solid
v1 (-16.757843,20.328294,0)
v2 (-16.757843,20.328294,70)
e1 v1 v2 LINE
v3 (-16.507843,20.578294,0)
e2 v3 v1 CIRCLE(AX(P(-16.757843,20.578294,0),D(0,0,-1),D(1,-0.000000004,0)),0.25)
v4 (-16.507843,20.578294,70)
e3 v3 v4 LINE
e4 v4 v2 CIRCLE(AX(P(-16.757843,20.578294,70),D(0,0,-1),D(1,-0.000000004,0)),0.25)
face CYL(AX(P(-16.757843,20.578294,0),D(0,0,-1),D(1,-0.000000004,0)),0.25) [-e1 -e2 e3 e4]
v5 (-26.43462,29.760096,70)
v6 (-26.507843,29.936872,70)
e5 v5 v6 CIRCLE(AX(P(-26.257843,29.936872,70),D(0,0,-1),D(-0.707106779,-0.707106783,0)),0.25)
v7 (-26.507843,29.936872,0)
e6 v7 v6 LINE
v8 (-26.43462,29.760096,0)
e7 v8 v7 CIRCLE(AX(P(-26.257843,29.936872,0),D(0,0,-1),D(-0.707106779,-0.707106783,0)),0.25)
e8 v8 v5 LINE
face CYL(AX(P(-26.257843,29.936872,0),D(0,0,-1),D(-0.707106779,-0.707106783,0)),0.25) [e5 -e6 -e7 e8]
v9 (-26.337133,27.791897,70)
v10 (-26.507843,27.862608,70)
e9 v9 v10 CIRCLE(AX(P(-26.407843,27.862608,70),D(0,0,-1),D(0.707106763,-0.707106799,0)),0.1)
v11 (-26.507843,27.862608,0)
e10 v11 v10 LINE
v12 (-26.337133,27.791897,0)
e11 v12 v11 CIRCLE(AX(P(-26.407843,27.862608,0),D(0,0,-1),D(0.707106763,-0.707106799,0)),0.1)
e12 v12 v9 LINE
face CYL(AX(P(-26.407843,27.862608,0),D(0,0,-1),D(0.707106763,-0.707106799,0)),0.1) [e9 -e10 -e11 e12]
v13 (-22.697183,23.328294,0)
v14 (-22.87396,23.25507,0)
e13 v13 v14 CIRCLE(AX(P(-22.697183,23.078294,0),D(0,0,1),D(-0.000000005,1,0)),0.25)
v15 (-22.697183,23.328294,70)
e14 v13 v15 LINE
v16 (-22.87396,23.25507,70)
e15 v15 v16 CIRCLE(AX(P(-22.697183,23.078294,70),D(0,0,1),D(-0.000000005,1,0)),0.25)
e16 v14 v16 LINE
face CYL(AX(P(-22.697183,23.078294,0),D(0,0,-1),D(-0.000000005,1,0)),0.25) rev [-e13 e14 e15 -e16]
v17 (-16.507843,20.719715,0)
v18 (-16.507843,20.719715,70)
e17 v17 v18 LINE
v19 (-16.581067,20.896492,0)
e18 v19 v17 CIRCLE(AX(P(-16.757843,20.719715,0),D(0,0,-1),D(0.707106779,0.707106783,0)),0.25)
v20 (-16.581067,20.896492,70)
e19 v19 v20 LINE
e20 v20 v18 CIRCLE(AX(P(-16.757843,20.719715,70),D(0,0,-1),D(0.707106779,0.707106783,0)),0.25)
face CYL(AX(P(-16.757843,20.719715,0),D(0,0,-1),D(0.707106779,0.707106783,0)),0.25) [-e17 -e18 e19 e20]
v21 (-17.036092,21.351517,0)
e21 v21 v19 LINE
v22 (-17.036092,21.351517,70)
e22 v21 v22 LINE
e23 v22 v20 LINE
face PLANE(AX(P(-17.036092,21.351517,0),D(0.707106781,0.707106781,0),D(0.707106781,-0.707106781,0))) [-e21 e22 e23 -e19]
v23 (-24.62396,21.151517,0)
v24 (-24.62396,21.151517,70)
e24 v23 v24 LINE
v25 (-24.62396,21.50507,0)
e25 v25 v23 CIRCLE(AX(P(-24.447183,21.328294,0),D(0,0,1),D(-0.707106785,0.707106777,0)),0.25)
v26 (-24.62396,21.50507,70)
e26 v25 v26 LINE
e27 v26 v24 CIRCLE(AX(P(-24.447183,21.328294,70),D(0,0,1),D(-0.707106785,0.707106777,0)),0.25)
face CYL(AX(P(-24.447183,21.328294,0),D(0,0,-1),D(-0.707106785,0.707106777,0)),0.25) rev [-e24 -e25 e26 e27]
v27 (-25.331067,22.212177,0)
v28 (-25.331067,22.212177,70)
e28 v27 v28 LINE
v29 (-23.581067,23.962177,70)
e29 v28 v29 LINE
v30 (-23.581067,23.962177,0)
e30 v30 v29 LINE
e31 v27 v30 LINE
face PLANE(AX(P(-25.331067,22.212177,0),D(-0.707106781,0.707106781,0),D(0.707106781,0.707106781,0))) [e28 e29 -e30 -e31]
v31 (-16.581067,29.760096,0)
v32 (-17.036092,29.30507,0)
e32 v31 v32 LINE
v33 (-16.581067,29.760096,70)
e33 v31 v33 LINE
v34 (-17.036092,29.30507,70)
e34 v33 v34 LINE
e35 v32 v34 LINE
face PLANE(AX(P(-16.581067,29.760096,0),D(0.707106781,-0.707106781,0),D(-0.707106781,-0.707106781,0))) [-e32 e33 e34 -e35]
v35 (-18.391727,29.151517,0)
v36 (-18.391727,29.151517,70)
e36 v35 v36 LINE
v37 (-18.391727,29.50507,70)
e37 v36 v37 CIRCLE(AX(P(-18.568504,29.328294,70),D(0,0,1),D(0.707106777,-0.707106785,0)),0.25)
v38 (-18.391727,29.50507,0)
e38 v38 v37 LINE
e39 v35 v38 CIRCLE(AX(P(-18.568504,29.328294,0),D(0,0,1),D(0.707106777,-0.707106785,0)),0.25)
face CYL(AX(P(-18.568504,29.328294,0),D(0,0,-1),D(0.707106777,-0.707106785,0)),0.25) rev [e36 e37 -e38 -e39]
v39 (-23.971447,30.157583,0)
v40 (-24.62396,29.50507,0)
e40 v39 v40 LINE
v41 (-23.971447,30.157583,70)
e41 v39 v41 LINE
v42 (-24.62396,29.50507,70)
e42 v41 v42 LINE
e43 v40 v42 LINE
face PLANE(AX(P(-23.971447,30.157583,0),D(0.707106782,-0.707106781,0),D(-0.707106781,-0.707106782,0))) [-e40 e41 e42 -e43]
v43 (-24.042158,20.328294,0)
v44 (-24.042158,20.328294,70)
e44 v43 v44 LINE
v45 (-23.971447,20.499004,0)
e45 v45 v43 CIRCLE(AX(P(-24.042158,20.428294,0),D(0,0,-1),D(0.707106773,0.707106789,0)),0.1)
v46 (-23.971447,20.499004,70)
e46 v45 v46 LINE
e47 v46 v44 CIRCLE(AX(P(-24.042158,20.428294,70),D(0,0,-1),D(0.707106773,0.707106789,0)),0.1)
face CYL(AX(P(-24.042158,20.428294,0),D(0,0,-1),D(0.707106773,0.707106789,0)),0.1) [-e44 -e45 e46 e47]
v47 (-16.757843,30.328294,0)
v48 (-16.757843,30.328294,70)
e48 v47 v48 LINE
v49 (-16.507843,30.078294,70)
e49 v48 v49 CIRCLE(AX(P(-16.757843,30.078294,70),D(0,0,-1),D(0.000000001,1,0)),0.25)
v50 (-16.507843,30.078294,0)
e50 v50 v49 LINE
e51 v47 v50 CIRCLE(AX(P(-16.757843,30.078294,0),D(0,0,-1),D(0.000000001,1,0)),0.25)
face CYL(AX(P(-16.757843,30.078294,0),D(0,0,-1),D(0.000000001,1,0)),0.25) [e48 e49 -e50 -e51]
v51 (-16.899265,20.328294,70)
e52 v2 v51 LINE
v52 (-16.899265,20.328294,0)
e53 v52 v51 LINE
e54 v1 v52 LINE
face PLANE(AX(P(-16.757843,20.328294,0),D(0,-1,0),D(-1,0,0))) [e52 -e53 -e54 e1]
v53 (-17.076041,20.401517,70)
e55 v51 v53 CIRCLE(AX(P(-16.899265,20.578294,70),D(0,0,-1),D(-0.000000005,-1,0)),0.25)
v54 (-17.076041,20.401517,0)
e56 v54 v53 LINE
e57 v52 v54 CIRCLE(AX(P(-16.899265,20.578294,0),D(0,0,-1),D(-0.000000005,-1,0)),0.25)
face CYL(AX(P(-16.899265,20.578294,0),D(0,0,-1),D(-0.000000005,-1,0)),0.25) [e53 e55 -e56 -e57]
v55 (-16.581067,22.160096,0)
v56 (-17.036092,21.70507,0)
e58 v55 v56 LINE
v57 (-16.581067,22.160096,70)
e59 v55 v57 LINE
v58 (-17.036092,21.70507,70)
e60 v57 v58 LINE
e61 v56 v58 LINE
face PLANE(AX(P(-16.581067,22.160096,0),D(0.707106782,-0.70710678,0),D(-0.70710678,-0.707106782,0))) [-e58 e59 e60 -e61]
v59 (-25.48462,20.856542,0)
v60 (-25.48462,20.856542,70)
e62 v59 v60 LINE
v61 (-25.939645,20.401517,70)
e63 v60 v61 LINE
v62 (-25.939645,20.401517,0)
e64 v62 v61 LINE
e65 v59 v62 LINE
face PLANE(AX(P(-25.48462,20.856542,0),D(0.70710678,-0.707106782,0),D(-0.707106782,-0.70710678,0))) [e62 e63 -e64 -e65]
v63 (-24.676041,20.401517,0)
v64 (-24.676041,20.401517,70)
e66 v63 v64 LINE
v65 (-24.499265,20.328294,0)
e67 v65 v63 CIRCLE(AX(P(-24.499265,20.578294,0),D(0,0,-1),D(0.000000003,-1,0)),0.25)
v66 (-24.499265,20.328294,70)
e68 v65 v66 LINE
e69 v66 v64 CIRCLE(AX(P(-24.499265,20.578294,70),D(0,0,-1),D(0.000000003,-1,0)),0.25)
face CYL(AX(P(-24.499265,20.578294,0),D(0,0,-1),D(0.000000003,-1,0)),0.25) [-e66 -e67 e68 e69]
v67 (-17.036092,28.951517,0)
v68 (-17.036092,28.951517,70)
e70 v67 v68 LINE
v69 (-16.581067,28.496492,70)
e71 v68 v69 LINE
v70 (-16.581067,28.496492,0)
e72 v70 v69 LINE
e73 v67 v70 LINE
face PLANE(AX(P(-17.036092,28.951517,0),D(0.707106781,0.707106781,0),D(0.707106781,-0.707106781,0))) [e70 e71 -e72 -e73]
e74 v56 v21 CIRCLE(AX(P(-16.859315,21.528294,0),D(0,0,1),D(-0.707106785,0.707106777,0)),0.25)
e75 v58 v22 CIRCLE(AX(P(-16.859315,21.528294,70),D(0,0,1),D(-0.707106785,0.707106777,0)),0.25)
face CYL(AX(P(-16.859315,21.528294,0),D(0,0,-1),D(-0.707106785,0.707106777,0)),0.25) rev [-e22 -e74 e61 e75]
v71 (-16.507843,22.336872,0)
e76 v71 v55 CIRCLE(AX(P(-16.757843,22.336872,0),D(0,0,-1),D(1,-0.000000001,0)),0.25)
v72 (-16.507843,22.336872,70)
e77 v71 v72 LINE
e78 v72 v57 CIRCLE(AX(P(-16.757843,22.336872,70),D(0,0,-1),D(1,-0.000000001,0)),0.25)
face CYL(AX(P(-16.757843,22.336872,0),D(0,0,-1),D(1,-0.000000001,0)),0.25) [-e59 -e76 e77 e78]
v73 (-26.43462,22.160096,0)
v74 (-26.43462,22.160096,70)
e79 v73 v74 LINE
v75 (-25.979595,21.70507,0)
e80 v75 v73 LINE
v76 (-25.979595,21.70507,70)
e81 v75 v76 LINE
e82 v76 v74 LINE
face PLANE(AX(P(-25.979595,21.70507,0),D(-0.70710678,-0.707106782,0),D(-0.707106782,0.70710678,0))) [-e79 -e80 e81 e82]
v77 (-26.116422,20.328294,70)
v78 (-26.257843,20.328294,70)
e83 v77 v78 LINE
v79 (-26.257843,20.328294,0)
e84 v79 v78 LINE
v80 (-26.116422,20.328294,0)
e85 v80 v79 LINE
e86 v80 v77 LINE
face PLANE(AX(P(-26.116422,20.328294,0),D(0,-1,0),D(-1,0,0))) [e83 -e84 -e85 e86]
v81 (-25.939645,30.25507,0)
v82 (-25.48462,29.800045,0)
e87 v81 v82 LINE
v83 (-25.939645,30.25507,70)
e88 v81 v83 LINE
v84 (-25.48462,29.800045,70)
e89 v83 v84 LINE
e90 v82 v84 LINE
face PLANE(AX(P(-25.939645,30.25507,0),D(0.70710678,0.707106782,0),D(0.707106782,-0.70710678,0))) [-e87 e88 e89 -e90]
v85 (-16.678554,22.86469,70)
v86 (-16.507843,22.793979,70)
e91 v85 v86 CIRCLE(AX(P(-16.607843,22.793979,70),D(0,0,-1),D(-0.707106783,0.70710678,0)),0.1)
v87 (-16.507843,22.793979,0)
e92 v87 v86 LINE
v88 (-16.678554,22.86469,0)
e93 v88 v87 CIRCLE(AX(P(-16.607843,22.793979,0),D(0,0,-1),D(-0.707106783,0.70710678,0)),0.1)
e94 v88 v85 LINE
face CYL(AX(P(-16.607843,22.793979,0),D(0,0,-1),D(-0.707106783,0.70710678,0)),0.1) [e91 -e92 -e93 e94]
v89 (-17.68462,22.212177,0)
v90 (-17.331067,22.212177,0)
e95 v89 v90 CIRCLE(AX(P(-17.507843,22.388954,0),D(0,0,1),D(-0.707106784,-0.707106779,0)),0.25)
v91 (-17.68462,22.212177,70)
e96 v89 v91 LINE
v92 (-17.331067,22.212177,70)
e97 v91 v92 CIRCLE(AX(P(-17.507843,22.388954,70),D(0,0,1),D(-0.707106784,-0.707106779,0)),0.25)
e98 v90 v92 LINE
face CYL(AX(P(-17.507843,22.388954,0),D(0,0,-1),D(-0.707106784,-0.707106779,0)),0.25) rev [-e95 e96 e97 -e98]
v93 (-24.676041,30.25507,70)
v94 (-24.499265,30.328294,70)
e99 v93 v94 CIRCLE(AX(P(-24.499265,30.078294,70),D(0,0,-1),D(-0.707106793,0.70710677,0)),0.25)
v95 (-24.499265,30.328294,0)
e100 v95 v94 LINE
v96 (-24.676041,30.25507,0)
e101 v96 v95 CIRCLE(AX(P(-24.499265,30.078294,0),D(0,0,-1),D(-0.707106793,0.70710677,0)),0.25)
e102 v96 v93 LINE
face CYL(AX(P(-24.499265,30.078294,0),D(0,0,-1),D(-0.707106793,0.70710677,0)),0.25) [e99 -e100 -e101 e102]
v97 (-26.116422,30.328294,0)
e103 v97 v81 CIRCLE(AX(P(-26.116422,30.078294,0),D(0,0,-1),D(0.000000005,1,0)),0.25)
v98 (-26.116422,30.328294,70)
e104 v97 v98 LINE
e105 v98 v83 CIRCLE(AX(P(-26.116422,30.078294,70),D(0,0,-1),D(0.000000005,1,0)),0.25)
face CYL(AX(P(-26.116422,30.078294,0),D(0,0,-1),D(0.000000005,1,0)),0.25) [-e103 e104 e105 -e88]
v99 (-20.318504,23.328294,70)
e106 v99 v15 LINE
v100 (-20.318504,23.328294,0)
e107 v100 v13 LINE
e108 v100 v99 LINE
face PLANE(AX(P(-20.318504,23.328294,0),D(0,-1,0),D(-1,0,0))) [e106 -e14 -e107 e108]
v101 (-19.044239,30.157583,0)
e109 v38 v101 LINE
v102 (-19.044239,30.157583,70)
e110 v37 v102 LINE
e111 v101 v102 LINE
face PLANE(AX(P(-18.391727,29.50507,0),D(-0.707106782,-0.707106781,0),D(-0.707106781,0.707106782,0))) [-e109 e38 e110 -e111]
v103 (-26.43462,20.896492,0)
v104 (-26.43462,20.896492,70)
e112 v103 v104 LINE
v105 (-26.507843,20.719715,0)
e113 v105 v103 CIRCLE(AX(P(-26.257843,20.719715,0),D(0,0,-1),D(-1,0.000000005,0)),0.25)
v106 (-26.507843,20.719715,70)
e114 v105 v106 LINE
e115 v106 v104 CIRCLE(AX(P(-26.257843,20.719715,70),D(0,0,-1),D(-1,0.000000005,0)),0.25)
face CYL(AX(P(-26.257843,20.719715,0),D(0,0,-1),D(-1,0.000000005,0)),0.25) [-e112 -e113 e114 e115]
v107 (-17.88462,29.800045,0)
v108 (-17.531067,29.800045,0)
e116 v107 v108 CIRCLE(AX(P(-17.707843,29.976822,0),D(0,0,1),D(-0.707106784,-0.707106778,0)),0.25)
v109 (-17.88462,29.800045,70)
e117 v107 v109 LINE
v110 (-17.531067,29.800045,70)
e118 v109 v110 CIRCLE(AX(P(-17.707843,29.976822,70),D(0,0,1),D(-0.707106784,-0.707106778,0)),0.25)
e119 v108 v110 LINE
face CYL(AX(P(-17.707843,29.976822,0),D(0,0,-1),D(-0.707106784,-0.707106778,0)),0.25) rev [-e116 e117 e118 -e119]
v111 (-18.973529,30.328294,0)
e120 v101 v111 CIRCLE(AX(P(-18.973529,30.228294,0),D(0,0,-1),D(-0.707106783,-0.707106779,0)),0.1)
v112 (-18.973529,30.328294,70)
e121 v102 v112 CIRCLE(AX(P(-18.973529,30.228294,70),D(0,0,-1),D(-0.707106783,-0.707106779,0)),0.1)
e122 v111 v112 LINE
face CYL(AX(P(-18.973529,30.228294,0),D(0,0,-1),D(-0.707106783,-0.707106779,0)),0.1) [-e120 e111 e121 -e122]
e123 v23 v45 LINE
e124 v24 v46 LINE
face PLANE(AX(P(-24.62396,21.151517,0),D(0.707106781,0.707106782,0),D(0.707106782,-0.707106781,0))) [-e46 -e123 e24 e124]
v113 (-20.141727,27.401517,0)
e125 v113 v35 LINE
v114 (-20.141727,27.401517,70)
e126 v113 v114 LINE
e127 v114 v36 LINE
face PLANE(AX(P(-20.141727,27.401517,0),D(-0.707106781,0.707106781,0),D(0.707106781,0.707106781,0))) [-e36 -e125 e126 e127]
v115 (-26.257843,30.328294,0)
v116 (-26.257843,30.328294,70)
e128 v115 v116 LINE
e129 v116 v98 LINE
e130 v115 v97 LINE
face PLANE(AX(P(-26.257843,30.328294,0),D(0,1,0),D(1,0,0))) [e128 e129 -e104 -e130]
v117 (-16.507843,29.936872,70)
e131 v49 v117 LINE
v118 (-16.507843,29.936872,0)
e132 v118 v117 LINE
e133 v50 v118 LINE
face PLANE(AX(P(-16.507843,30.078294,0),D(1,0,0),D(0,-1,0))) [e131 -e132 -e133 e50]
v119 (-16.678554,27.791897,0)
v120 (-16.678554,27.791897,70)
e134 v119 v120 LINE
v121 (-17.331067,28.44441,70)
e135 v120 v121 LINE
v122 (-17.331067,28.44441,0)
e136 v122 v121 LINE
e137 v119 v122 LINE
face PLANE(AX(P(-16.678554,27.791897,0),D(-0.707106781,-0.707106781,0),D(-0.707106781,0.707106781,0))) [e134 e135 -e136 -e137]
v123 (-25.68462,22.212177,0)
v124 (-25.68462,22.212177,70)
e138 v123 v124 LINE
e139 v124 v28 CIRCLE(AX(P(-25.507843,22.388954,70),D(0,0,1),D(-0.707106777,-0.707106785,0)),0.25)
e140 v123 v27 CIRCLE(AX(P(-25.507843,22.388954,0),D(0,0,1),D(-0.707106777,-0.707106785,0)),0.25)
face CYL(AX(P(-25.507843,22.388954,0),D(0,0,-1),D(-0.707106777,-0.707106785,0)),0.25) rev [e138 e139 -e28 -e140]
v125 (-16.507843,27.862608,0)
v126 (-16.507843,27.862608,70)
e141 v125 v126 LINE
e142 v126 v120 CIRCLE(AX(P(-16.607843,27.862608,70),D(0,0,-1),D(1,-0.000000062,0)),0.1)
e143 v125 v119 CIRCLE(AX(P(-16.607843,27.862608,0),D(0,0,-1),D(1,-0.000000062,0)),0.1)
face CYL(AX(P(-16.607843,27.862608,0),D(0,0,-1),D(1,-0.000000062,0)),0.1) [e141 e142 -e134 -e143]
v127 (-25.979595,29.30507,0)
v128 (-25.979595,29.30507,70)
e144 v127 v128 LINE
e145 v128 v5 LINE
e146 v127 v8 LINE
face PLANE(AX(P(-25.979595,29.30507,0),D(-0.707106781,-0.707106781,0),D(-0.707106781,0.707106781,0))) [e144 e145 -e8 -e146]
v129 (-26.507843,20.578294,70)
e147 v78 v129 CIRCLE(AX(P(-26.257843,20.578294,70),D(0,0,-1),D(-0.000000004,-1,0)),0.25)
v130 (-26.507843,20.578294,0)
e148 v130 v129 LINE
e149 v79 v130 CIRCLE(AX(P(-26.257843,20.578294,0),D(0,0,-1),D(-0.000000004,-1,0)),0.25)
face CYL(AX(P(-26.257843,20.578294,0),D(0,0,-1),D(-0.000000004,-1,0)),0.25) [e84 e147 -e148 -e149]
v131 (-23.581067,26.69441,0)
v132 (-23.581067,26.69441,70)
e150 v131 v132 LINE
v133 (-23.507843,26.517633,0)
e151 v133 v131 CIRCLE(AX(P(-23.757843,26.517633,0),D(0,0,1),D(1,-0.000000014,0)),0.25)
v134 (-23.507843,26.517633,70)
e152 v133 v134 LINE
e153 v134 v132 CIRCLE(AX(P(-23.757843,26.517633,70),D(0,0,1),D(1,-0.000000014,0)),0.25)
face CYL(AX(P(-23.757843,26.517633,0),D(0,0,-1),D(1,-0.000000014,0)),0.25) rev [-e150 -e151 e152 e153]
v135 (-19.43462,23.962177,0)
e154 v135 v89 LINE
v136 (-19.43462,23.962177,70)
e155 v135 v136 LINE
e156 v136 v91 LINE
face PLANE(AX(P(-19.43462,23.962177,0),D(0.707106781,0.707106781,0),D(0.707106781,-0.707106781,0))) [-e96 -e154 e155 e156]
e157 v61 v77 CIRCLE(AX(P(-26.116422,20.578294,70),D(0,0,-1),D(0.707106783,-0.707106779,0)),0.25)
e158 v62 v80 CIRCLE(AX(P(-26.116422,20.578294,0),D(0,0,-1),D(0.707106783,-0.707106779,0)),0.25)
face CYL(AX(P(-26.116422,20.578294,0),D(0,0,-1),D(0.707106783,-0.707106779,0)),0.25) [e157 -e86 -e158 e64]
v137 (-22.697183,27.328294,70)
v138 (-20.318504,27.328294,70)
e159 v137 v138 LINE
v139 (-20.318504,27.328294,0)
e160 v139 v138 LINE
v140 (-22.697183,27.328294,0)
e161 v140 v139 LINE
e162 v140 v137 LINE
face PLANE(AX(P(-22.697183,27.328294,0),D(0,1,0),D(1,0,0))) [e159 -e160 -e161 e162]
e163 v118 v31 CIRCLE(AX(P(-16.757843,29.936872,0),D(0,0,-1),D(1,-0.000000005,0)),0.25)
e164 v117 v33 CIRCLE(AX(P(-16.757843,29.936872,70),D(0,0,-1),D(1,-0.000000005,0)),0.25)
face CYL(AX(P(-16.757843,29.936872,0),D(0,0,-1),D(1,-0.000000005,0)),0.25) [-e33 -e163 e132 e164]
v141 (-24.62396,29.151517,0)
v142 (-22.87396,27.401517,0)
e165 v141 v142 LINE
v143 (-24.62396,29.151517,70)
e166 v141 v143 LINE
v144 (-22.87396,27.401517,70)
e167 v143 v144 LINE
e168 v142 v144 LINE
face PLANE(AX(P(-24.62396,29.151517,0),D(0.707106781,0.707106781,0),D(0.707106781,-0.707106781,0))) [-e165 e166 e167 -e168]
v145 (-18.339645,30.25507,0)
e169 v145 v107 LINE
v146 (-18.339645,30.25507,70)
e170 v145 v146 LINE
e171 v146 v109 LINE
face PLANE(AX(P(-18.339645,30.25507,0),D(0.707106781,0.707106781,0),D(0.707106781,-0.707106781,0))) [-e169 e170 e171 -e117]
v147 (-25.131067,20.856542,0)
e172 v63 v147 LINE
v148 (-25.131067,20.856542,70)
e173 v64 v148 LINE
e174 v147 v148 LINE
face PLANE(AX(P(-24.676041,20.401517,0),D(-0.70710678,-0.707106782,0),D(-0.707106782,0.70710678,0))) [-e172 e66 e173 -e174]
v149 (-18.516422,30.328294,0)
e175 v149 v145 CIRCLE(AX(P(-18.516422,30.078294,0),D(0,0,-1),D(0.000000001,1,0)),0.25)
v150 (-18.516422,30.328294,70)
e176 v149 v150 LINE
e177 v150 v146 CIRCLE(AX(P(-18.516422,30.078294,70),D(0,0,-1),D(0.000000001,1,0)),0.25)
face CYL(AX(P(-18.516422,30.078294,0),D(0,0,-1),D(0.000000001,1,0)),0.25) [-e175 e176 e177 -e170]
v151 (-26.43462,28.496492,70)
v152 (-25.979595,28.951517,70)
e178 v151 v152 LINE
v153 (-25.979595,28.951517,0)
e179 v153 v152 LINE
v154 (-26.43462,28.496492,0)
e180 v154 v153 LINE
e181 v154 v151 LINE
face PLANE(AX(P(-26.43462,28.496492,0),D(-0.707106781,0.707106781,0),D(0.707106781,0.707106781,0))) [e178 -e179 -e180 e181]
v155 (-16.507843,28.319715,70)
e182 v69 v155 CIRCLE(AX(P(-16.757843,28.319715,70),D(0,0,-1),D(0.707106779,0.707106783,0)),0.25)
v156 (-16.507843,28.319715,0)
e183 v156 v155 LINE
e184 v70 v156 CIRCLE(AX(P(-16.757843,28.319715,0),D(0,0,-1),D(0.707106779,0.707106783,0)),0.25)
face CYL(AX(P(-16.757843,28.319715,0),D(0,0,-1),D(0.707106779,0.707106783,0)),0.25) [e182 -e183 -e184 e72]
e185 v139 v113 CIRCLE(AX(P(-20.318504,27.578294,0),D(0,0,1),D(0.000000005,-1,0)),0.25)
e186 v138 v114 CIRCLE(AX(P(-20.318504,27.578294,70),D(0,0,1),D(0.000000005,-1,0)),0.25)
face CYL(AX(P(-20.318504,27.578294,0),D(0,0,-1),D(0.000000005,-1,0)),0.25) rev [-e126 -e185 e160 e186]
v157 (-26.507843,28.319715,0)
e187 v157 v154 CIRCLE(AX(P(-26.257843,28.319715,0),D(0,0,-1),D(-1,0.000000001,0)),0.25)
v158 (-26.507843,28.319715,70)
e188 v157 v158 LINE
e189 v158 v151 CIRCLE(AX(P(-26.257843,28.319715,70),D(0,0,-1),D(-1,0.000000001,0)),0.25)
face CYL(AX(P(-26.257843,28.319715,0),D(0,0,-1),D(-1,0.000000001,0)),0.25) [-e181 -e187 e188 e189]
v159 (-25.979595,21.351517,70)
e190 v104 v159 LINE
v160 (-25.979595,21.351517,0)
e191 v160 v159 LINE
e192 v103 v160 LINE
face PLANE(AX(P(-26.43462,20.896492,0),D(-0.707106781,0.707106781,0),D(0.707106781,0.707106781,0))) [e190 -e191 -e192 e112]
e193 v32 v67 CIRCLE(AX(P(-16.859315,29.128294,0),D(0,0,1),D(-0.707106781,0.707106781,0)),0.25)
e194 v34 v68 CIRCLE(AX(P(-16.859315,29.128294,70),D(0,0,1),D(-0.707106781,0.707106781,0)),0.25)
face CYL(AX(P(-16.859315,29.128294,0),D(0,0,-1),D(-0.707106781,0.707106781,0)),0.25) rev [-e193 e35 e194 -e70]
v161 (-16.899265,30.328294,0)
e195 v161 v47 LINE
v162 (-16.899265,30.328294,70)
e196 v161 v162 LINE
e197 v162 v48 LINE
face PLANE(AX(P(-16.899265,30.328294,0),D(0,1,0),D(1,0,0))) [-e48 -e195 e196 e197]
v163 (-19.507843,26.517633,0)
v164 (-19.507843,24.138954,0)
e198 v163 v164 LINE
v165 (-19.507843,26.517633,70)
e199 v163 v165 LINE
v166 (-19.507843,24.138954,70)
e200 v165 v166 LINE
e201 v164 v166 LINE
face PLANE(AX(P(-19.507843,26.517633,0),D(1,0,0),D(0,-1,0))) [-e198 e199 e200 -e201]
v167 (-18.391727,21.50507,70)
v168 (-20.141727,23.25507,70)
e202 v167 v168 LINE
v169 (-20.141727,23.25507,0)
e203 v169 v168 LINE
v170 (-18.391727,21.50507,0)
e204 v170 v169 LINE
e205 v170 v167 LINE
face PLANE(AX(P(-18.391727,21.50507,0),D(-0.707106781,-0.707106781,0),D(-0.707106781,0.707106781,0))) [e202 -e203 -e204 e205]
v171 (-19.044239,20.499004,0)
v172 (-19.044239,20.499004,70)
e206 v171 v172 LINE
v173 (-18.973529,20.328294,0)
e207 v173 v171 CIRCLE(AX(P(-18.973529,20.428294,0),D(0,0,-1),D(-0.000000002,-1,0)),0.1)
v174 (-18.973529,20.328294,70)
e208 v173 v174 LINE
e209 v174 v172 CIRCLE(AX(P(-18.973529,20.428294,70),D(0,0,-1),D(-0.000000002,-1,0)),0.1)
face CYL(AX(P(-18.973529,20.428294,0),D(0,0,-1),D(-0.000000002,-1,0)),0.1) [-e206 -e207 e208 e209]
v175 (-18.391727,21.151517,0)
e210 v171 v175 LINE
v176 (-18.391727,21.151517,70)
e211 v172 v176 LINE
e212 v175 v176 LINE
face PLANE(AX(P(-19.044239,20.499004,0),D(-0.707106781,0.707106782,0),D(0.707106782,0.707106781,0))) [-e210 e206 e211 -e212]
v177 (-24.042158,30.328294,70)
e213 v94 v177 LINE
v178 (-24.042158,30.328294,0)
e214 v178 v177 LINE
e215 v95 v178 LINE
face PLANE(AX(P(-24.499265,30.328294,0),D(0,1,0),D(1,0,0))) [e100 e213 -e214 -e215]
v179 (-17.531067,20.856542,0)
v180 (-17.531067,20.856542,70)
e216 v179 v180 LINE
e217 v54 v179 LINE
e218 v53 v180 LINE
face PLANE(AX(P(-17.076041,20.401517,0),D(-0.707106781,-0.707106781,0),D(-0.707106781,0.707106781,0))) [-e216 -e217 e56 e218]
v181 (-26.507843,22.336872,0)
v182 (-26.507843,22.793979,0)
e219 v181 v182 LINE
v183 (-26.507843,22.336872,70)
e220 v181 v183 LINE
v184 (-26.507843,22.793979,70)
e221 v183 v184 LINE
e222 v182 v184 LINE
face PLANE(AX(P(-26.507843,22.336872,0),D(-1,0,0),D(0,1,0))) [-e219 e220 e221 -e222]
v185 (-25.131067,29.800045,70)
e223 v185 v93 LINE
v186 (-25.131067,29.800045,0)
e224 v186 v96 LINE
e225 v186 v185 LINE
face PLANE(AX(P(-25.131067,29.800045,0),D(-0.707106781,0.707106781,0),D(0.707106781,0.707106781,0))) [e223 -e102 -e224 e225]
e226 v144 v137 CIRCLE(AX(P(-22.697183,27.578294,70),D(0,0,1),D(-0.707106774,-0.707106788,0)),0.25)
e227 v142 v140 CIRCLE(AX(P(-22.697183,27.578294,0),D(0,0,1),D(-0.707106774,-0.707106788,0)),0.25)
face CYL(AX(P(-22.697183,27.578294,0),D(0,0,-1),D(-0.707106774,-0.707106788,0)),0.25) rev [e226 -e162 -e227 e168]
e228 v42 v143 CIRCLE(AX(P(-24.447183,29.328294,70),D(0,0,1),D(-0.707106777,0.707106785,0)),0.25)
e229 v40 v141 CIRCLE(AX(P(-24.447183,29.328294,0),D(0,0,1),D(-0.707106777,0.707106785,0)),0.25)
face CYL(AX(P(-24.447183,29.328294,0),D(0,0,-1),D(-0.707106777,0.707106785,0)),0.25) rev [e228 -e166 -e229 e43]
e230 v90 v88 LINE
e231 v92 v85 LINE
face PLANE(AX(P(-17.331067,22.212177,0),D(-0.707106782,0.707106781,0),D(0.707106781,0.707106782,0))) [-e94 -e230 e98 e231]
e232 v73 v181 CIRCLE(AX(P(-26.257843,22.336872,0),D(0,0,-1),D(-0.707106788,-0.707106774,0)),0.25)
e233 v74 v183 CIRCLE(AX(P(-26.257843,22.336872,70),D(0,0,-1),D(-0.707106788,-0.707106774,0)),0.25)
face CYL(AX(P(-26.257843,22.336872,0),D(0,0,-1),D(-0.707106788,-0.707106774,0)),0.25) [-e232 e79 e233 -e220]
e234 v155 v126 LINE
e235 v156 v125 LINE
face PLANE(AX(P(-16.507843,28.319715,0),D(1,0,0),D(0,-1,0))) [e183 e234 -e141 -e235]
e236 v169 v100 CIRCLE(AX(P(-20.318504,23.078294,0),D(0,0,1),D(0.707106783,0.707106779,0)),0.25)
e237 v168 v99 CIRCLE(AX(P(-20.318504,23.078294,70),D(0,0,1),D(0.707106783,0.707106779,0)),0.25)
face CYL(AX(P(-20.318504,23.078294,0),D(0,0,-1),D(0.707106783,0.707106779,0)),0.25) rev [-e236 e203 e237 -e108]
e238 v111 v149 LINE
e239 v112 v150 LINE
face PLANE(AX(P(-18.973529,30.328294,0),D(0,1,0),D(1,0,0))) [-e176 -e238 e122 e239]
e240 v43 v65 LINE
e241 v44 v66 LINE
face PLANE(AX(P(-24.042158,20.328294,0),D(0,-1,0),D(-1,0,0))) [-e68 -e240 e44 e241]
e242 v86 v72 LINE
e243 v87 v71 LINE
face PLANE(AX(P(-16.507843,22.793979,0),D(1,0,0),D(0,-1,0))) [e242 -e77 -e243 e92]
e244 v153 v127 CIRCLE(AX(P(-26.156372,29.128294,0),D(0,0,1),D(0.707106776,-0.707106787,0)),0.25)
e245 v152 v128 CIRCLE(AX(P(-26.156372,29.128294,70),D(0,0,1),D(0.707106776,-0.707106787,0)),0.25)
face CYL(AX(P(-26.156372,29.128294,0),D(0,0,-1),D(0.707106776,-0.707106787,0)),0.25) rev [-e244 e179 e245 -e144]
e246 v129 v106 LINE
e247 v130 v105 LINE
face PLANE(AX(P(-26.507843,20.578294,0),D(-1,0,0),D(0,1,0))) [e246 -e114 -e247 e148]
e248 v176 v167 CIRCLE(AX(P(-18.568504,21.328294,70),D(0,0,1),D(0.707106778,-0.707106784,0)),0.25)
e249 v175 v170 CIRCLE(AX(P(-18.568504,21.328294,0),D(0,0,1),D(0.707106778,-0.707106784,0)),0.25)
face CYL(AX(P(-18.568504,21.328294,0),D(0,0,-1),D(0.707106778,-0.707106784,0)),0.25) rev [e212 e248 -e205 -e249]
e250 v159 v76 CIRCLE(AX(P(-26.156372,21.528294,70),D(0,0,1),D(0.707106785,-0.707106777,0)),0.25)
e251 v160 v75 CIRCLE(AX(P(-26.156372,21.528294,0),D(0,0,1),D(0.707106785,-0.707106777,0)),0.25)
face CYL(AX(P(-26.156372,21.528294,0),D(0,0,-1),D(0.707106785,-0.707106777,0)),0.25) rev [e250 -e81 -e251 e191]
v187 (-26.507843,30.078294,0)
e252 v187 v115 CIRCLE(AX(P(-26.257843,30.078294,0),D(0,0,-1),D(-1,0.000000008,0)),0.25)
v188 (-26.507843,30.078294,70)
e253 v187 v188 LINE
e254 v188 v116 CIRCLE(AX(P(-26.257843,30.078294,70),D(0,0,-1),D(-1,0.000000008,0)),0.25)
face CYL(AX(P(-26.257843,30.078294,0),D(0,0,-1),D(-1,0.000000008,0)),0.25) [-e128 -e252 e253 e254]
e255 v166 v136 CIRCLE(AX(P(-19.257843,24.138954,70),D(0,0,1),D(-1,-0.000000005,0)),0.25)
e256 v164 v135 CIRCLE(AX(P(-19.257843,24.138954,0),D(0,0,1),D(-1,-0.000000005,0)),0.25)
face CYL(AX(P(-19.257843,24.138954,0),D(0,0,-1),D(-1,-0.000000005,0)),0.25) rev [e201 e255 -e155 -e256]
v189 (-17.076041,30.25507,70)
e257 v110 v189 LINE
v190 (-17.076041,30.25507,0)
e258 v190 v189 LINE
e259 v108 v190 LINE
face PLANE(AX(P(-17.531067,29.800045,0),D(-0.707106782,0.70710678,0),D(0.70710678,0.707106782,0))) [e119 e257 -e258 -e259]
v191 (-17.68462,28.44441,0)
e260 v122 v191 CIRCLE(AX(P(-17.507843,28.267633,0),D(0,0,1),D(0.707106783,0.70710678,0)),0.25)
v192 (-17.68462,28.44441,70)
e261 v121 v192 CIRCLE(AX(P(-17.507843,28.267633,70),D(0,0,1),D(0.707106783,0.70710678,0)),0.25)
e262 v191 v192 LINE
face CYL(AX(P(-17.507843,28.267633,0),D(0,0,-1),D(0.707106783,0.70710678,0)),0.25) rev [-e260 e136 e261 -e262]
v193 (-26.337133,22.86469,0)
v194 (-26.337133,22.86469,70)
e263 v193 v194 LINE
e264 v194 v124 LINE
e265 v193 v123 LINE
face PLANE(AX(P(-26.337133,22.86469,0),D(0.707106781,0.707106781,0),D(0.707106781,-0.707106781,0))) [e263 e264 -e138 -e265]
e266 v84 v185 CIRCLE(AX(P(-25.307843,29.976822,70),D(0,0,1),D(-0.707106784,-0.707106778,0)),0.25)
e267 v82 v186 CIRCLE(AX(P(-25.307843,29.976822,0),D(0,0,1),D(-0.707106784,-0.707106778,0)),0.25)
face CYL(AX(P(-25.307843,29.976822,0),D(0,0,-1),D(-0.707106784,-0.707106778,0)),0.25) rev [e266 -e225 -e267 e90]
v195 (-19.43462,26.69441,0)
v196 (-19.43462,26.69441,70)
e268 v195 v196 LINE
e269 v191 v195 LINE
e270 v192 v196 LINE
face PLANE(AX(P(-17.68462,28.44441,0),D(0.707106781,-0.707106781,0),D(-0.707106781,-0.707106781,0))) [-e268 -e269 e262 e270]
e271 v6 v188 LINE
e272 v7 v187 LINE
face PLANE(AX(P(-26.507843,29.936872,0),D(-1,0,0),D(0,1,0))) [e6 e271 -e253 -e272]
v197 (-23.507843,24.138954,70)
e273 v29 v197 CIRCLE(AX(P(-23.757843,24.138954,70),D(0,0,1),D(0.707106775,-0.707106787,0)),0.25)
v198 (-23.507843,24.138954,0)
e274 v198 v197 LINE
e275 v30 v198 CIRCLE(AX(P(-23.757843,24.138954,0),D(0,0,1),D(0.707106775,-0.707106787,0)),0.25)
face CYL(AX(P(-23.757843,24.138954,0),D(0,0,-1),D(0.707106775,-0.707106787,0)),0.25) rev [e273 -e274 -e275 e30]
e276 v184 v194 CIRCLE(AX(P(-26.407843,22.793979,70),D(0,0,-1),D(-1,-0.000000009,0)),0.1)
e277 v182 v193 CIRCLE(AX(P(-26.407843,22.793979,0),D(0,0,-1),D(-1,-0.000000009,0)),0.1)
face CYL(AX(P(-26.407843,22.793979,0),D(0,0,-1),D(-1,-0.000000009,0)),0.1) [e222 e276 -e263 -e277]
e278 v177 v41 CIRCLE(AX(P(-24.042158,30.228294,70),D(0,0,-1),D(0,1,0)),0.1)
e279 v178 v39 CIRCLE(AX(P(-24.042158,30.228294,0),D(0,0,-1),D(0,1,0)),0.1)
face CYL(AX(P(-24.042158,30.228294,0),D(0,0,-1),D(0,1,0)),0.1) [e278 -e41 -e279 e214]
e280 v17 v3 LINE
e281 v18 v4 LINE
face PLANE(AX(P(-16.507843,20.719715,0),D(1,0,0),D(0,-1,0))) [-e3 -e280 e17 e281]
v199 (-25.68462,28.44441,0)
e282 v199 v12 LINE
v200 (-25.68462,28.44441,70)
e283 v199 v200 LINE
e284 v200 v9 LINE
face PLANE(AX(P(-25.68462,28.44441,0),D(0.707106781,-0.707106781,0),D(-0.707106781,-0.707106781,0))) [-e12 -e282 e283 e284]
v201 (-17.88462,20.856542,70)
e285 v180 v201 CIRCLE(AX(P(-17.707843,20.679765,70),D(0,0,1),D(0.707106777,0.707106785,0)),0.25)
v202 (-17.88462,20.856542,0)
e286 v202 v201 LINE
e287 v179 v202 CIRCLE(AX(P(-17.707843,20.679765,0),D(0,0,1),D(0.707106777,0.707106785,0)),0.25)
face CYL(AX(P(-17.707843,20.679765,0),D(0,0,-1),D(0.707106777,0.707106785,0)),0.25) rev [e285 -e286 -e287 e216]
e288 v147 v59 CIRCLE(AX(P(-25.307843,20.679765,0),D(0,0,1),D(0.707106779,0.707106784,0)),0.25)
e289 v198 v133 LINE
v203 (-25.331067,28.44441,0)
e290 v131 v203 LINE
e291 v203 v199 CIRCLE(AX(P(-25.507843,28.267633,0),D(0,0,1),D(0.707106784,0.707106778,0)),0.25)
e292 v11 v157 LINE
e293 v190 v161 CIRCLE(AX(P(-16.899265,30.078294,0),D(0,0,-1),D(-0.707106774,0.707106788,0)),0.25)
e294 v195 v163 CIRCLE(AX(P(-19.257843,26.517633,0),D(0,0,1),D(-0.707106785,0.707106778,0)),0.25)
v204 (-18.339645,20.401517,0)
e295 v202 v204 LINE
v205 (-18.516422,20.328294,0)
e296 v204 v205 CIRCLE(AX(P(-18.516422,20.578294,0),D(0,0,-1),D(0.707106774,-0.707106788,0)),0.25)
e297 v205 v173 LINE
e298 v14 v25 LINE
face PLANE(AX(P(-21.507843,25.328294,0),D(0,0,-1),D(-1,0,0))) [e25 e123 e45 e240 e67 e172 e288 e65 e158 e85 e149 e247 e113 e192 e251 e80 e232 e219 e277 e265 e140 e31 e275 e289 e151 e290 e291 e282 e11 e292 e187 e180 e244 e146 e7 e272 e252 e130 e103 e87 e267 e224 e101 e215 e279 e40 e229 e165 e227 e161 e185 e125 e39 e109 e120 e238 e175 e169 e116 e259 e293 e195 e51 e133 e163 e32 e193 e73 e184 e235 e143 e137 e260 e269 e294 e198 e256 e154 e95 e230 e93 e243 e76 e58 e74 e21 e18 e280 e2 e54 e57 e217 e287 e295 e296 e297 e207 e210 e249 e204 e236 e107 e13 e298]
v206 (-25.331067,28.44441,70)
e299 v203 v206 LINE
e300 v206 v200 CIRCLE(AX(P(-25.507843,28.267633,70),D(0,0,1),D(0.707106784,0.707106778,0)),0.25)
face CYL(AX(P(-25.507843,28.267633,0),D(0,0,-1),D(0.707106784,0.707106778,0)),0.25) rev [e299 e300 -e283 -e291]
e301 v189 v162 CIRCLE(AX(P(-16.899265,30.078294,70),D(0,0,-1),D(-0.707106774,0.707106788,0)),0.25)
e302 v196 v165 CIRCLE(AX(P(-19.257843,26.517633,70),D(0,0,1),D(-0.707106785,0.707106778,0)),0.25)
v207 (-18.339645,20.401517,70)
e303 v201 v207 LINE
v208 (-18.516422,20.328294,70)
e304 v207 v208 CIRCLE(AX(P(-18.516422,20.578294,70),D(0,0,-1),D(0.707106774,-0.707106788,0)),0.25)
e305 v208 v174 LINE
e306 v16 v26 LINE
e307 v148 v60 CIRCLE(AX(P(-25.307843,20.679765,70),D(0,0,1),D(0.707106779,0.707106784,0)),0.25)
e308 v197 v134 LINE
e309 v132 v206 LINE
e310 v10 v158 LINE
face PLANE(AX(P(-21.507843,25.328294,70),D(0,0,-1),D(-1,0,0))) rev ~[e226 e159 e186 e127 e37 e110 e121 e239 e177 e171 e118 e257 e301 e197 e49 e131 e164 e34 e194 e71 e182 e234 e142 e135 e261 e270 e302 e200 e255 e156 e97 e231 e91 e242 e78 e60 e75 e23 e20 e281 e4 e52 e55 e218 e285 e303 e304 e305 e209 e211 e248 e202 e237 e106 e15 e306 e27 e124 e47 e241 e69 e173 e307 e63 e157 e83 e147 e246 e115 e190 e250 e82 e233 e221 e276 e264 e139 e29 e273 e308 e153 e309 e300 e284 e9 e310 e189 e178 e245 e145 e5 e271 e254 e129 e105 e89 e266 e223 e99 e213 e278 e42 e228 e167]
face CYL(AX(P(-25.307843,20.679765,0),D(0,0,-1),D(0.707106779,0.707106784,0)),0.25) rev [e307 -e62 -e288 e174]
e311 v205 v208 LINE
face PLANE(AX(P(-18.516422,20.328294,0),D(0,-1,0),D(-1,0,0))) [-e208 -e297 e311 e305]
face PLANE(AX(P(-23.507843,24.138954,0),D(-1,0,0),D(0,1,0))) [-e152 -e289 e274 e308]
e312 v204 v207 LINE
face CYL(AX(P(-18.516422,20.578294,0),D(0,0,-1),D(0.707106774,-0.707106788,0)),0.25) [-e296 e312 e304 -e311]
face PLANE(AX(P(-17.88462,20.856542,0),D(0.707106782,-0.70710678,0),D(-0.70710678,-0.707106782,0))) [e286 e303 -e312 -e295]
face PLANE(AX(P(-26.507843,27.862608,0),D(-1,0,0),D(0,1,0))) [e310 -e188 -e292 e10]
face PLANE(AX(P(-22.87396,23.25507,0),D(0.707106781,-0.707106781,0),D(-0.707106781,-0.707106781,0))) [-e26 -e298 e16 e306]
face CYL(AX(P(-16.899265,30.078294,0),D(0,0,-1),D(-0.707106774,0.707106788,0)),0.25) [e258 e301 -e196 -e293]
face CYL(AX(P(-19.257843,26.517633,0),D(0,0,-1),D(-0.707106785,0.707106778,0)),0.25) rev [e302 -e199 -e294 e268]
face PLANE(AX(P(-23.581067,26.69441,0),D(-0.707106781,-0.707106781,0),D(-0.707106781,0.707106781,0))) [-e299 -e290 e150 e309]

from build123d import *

# Parameters (mm, degrees)
BOSS_EXTRUDE1_DEPTH = 70


with BuildPart() as part:
    # Sketch1 → Boss-Extrude1 (new body)
    with BuildSketch(Plane.XY):
        with BuildLine():
            Line((-26.434620061, 28.496491655), (-25.979594809, 28.951516907))
            ThreePointArc((-25.979594809, 28.951516907), (-25.906371503, 29.128293603), (-25.979594808, 29.305070299))
            Line((-25.979594808, 29.305070299), (-26.43462006, 29.760095551))
            ThreePointArc((-26.43462006, 29.760095551), (-26.488813248, 29.841201388), (-26.507843365, 29.936872247))
            Line((-26.507843365, 29.936872247), (-26.507843365, 30.078293605))
            ThreePointArc((-26.507843365, 30.078293605), (-26.43462006, 30.255070299), (-26.257843366, 30.328293604))
            Line((-26.257843366, 30.328293604), (-26.11642201, 30.328293604))
            ThreePointArc((-26.11642201, 30.328293604), (-26.020751153, 30.309263487), (-25.939645316, 30.255070299))
            Line((-25.939645316, 30.255070299), (-25.484620061, 29.800045045))
            ThreePointArc((-25.484620061, 29.800045045), (-25.307843366, 29.72682174), (-25.131066671, 29.800045045))
            Line((-25.131066671, 29.800045045), (-24.676041418, 30.255070298))
            ThreePointArc((-24.676041418, 30.255070298), (-24.594935581, 30.309263487), (-24.499264722, 30.328293604))
            Line((-24.499264722, 30.328293604), (-24.042157942, 30.328293604))
            ThreePointArc((-24.042157942, 30.328293604), (-23.949769989, 30.266561947), (-23.971447265, 30.157582926))
            Line((-23.971447265, 30.157582926), (-24.623959891, 29.505070299))
            ThreePointArc((-24.623959891, 29.505070299), (-24.697183196, 29.328293604), (-24.623959891, 29.15151691))
            Line((-24.623959891, 29.15151691), (-22.873959891, 27.401516909))
            ThreePointArc((-22.873959891, 27.401516909), (-22.792854054, 27.347323722), (-22.697183196, 27.328293605))
            Line((-22.697183196, 27.328293605), (-20.318503539, 27.328293605))
            ThreePointArc((-20.318503539, 27.328293605), (-20.222832681, 27.347323722), (-20.141726844, 27.401516909))
            Line((-20.141726844, 27.401516909), (-18.391726844, 29.15151691))
            ThreePointArc((-18.391726844, 29.15151691), (-18.318503539, 29.328293604), (-18.391726844, 29.505070299))
            Line((-18.391726844, 29.505070299), (-19.04423947, 30.157582926))
            ThreePointArc((-19.04423947, 30.157582926), (-19.065916745, 30.266561947), (-18.973528793, 30.328293604))
            Line((-18.973528793, 30.328293604), (-18.516422013, 30.328293604))
            ThreePointArc((-18.516422013, 30.328293604), (-18.420751155, 30.309263487), (-18.339645319, 30.2550703))
            Line((-18.339645319, 30.2550703), (-17.884620064, 29.800045045))
            ThreePointArc((-17.884620064, 29.800045045), (-17.707843369, 29.72682174), (-17.531066674, 29.800045045))
            Line((-17.531066674, 29.800045045), (-17.07604142, 30.2550703))
            ThreePointArc((-17.07604142, 30.2550703), (-16.994935583, 30.309263487), (-16.899264725, 30.328293604))
            Line((-16.899264725, 30.328293604), (-16.75784337, 30.328293604))
            ThreePointArc((-16.75784337, 30.328293604), (-16.581066675, 30.255070299), (-16.507843371, 30.078293605))
            Line((-16.507843371, 30.078293605), (-16.507843371, 29.936872247))
            ThreePointArc((-16.507843371, 29.936872247), (-16.526873488, 29.841201389), (-16.581066675, 29.760095552))
            Line((-16.581066675, 29.760095552), (-17.036091927, 29.3050703))
            ThreePointArc((-17.036091927, 29.3050703), (-17.109315232, 29.128293603), (-17.036091926, 28.951516907))
            Line((-17.036091926, 28.951516907), (-16.581066674, 28.496491655))
            ThreePointArc((-16.581066674, 28.496491655), (-16.526873486, 28.415385818), (-16.507843369, 28.31971496))
            Line((-16.507843369, 28.31971496), (-16.507843369, 27.862608178))
            ThreePointArc((-16.507843369, 27.862608178), (-16.569575025, 27.770220231), (-16.678554041, 27.791897499))
            Line((-16.678554041, 27.791897499), (-17.331066668, 28.444410126))
            ThreePointArc((-17.331066668, 28.444410126), (-17.507843364, 28.517633431), (-17.68462006, 28.444410125))
            Line((-17.68462006, 28.444410125), (-19.434620061, 26.694410125))
            ThreePointArc((-19.434620061, 26.694410125), (-19.488813248, 26.613304288), (-19.507843364, 26.51763343))
            Line((-19.507843364, 26.51763343), (-19.507843364, 24.138953775))
            ThreePointArc((-19.507843364, 24.138953775), (-19.488813247, 24.043282917), (-19.434620059, 23.962177079))
            Line((-19.434620059, 23.962177079), (-17.684620059, 22.212177079))
            ThreePointArc((-17.684620059, 22.212177079), (-17.507843363, 22.138953773), (-17.331066666, 22.212177077))
            Line((-17.331066666, 22.212177077), (-16.67855404, 22.864689704))
            ThreePointArc((-16.67855404, 22.864689704), (-16.569575019, 22.886366979), (-16.507843363, 22.793979027))
            Line((-16.507843363, 22.793979027), (-16.507843363, 22.336872245))
            ThreePointArc((-16.507843363, 22.336872245), (-16.52687348, 22.241201387), (-16.581066668, 22.16009555))
            Line((-16.581066668, 22.16009555), (-17.036091921, 21.705070296))
            ThreePointArc((-17.036091921, 21.705070296), (-17.109315225, 21.528293601), (-17.036091921, 21.351516906))
            Line((-17.036091921, 21.351516906), (-16.581066669, 20.896491654))
            ThreePointArc((-16.581066669, 20.896491654), (-16.526873481, 20.815385817), (-16.507843364, 20.719714959))
            Line((-16.507843364, 20.719714959), (-16.507843364, 20.578293601))
            ThreePointArc((-16.507843364, 20.578293601), (-16.581066669, 20.401516906), (-16.757843364, 20.328293601))
            Line((-16.757843364, 20.328293601), (-16.89926472, 20.328293601))
            ThreePointArc((-16.89926472, 20.328293601), (-16.994935578, 20.347323718), (-17.076041415, 20.401516905))
            Line((-17.076041415, 20.401516905), (-17.53106667, 20.85654216))
            ThreePointArc((-17.53106667, 20.85654216), (-17.707843365, 20.929765464), (-17.88462006, 20.85654216))
            Line((-17.88462006, 20.85654216), (-18.339645314, 20.401516905))
            ThreePointArc((-18.339645314, 20.401516905), (-18.420751151, 20.347323718), (-18.516422009, 20.328293601))
            Line((-18.516422009, 20.328293601), (-18.973528789, 20.328293601))
            ThreePointArc((-18.973528789, 20.328293601), (-19.065916743, 20.390025258), (-19.044239468, 20.499004281))
            Line((-19.044239468, 20.499004281), (-18.391726841, 21.151516907))
            ThreePointArc((-18.391726841, 21.151516907), (-18.318503536, 21.328293602), (-18.391726841, 21.505070297))
            Line((-18.391726841, 21.505070297), (-20.141726841, 23.255070297))
            ThreePointArc((-20.141726841, 23.255070297), (-20.222832678, 23.309263485), (-20.318503536, 23.328293602))
            Line((-20.318503536, 23.328293602), (-22.697183193, 23.328293602))
            ThreePointArc((-22.697183193, 23.328293602), (-22.792854051, 23.309263485), (-22.873959889, 23.255070297))
            Line((-22.873959889, 23.255070297), (-24.623959889, 21.505070297))
            ThreePointArc((-24.623959889, 21.505070297), (-24.697183193, 21.328293602), (-24.623959889, 21.151516907))
            Line((-24.623959889, 21.151516907), (-23.971447262, 20.499004281))
            ThreePointArc((-23.971447262, 20.499004281), (-23.949769986, 20.390025258), (-24.042157941, 20.328293601))
            Line((-24.042157941, 20.328293601), (-24.49926472, 20.328293601))
            ThreePointArc((-24.49926472, 20.328293601), (-24.594935579, 20.347323718), (-24.676041417, 20.401516907))
            Line((-24.676041417, 20.401516907), (-25.131066671, 20.85654216))
            ThreePointArc((-25.131066671, 20.85654216), (-25.307843365, 20.929765464), (-25.48462006, 20.85654216))
            Line((-25.48462006, 20.85654216), (-25.939645315, 20.401516906))
            ThreePointArc((-25.939645315, 20.401516906), (-26.020751152, 20.347323718), (-26.11642201, 20.328293601))
            Line((-26.11642201, 20.328293601), (-26.257843366, 20.328293601))
            ThreePointArc((-26.257843366, 20.328293601), (-26.434620061, 20.401516906), (-26.507843366, 20.578293601))
            Line((-26.507843366, 20.578293601), (-26.507843366, 20.719714959))
            ThreePointArc((-26.507843366, 20.719714959), (-26.488813249, 20.815385817), (-26.434620061, 20.896491655))
            Line((-26.434620061, 20.896491655), (-25.979594809, 21.351516907))
            ThreePointArc((-25.979594809, 21.351516907), (-25.906371505, 21.528293602), (-25.979594809, 21.705070297))
            Line((-25.979594809, 21.705070297), (-26.434620063, 22.16009555))
            ThreePointArc((-26.434620063, 22.16009555), (-26.48881325, 22.241201387), (-26.507843367, 22.336872245))
            Line((-26.507843367, 22.336872245), (-26.507843367, 22.793979027))
            ThreePointArc((-26.507843367, 22.793979027), (-26.446111711, 22.88636698), (-26.337132691, 22.864689705))
            Line((-26.337132691, 22.864689705), (-25.684620064, 22.212177078))
            ThreePointArc((-25.684620064, 22.212177078), (-25.507843369, 22.138953774), (-25.331066674, 22.212177078))
            Line((-25.331066674, 22.212177078), (-23.581066674, 23.962177078))
            ThreePointArc((-23.581066674, 23.962177078), (-23.526873485, 24.043282916), (-23.507843368, 24.138953775))
            Line((-23.507843368, 24.138953775), (-23.507843368, 26.51763343))
            ThreePointArc((-23.507843368, 26.51763343), (-23.526873484, 26.613304288), (-23.581066672, 26.694410125))
            Line((-23.581066672, 26.694410125), (-25.331066672, 28.444410125))
            ThreePointArc((-25.331066672, 28.444410125), (-25.507843367, 28.51763343), (-25.684620062, 28.444410125))
            Line((-25.684620062, 28.444410125), (-26.337132689, 27.791897498))
            ThreePointArc((-26.337132689, 27.791897498), (-26.44611171, 27.770220225), (-26.507843366, 27.862608178))
            Line((-26.507843366, 27.862608178), (-26.507843366, 28.31971496))
            ThreePointArc((-26.507843366, 28.31971496), (-26.488813249, 28.415385818), (-26.434620061, 28.496491655))
        make_face()
    extrude(amount=BOSS_EXTRUDE1_DEPTH)


solid = part.part
